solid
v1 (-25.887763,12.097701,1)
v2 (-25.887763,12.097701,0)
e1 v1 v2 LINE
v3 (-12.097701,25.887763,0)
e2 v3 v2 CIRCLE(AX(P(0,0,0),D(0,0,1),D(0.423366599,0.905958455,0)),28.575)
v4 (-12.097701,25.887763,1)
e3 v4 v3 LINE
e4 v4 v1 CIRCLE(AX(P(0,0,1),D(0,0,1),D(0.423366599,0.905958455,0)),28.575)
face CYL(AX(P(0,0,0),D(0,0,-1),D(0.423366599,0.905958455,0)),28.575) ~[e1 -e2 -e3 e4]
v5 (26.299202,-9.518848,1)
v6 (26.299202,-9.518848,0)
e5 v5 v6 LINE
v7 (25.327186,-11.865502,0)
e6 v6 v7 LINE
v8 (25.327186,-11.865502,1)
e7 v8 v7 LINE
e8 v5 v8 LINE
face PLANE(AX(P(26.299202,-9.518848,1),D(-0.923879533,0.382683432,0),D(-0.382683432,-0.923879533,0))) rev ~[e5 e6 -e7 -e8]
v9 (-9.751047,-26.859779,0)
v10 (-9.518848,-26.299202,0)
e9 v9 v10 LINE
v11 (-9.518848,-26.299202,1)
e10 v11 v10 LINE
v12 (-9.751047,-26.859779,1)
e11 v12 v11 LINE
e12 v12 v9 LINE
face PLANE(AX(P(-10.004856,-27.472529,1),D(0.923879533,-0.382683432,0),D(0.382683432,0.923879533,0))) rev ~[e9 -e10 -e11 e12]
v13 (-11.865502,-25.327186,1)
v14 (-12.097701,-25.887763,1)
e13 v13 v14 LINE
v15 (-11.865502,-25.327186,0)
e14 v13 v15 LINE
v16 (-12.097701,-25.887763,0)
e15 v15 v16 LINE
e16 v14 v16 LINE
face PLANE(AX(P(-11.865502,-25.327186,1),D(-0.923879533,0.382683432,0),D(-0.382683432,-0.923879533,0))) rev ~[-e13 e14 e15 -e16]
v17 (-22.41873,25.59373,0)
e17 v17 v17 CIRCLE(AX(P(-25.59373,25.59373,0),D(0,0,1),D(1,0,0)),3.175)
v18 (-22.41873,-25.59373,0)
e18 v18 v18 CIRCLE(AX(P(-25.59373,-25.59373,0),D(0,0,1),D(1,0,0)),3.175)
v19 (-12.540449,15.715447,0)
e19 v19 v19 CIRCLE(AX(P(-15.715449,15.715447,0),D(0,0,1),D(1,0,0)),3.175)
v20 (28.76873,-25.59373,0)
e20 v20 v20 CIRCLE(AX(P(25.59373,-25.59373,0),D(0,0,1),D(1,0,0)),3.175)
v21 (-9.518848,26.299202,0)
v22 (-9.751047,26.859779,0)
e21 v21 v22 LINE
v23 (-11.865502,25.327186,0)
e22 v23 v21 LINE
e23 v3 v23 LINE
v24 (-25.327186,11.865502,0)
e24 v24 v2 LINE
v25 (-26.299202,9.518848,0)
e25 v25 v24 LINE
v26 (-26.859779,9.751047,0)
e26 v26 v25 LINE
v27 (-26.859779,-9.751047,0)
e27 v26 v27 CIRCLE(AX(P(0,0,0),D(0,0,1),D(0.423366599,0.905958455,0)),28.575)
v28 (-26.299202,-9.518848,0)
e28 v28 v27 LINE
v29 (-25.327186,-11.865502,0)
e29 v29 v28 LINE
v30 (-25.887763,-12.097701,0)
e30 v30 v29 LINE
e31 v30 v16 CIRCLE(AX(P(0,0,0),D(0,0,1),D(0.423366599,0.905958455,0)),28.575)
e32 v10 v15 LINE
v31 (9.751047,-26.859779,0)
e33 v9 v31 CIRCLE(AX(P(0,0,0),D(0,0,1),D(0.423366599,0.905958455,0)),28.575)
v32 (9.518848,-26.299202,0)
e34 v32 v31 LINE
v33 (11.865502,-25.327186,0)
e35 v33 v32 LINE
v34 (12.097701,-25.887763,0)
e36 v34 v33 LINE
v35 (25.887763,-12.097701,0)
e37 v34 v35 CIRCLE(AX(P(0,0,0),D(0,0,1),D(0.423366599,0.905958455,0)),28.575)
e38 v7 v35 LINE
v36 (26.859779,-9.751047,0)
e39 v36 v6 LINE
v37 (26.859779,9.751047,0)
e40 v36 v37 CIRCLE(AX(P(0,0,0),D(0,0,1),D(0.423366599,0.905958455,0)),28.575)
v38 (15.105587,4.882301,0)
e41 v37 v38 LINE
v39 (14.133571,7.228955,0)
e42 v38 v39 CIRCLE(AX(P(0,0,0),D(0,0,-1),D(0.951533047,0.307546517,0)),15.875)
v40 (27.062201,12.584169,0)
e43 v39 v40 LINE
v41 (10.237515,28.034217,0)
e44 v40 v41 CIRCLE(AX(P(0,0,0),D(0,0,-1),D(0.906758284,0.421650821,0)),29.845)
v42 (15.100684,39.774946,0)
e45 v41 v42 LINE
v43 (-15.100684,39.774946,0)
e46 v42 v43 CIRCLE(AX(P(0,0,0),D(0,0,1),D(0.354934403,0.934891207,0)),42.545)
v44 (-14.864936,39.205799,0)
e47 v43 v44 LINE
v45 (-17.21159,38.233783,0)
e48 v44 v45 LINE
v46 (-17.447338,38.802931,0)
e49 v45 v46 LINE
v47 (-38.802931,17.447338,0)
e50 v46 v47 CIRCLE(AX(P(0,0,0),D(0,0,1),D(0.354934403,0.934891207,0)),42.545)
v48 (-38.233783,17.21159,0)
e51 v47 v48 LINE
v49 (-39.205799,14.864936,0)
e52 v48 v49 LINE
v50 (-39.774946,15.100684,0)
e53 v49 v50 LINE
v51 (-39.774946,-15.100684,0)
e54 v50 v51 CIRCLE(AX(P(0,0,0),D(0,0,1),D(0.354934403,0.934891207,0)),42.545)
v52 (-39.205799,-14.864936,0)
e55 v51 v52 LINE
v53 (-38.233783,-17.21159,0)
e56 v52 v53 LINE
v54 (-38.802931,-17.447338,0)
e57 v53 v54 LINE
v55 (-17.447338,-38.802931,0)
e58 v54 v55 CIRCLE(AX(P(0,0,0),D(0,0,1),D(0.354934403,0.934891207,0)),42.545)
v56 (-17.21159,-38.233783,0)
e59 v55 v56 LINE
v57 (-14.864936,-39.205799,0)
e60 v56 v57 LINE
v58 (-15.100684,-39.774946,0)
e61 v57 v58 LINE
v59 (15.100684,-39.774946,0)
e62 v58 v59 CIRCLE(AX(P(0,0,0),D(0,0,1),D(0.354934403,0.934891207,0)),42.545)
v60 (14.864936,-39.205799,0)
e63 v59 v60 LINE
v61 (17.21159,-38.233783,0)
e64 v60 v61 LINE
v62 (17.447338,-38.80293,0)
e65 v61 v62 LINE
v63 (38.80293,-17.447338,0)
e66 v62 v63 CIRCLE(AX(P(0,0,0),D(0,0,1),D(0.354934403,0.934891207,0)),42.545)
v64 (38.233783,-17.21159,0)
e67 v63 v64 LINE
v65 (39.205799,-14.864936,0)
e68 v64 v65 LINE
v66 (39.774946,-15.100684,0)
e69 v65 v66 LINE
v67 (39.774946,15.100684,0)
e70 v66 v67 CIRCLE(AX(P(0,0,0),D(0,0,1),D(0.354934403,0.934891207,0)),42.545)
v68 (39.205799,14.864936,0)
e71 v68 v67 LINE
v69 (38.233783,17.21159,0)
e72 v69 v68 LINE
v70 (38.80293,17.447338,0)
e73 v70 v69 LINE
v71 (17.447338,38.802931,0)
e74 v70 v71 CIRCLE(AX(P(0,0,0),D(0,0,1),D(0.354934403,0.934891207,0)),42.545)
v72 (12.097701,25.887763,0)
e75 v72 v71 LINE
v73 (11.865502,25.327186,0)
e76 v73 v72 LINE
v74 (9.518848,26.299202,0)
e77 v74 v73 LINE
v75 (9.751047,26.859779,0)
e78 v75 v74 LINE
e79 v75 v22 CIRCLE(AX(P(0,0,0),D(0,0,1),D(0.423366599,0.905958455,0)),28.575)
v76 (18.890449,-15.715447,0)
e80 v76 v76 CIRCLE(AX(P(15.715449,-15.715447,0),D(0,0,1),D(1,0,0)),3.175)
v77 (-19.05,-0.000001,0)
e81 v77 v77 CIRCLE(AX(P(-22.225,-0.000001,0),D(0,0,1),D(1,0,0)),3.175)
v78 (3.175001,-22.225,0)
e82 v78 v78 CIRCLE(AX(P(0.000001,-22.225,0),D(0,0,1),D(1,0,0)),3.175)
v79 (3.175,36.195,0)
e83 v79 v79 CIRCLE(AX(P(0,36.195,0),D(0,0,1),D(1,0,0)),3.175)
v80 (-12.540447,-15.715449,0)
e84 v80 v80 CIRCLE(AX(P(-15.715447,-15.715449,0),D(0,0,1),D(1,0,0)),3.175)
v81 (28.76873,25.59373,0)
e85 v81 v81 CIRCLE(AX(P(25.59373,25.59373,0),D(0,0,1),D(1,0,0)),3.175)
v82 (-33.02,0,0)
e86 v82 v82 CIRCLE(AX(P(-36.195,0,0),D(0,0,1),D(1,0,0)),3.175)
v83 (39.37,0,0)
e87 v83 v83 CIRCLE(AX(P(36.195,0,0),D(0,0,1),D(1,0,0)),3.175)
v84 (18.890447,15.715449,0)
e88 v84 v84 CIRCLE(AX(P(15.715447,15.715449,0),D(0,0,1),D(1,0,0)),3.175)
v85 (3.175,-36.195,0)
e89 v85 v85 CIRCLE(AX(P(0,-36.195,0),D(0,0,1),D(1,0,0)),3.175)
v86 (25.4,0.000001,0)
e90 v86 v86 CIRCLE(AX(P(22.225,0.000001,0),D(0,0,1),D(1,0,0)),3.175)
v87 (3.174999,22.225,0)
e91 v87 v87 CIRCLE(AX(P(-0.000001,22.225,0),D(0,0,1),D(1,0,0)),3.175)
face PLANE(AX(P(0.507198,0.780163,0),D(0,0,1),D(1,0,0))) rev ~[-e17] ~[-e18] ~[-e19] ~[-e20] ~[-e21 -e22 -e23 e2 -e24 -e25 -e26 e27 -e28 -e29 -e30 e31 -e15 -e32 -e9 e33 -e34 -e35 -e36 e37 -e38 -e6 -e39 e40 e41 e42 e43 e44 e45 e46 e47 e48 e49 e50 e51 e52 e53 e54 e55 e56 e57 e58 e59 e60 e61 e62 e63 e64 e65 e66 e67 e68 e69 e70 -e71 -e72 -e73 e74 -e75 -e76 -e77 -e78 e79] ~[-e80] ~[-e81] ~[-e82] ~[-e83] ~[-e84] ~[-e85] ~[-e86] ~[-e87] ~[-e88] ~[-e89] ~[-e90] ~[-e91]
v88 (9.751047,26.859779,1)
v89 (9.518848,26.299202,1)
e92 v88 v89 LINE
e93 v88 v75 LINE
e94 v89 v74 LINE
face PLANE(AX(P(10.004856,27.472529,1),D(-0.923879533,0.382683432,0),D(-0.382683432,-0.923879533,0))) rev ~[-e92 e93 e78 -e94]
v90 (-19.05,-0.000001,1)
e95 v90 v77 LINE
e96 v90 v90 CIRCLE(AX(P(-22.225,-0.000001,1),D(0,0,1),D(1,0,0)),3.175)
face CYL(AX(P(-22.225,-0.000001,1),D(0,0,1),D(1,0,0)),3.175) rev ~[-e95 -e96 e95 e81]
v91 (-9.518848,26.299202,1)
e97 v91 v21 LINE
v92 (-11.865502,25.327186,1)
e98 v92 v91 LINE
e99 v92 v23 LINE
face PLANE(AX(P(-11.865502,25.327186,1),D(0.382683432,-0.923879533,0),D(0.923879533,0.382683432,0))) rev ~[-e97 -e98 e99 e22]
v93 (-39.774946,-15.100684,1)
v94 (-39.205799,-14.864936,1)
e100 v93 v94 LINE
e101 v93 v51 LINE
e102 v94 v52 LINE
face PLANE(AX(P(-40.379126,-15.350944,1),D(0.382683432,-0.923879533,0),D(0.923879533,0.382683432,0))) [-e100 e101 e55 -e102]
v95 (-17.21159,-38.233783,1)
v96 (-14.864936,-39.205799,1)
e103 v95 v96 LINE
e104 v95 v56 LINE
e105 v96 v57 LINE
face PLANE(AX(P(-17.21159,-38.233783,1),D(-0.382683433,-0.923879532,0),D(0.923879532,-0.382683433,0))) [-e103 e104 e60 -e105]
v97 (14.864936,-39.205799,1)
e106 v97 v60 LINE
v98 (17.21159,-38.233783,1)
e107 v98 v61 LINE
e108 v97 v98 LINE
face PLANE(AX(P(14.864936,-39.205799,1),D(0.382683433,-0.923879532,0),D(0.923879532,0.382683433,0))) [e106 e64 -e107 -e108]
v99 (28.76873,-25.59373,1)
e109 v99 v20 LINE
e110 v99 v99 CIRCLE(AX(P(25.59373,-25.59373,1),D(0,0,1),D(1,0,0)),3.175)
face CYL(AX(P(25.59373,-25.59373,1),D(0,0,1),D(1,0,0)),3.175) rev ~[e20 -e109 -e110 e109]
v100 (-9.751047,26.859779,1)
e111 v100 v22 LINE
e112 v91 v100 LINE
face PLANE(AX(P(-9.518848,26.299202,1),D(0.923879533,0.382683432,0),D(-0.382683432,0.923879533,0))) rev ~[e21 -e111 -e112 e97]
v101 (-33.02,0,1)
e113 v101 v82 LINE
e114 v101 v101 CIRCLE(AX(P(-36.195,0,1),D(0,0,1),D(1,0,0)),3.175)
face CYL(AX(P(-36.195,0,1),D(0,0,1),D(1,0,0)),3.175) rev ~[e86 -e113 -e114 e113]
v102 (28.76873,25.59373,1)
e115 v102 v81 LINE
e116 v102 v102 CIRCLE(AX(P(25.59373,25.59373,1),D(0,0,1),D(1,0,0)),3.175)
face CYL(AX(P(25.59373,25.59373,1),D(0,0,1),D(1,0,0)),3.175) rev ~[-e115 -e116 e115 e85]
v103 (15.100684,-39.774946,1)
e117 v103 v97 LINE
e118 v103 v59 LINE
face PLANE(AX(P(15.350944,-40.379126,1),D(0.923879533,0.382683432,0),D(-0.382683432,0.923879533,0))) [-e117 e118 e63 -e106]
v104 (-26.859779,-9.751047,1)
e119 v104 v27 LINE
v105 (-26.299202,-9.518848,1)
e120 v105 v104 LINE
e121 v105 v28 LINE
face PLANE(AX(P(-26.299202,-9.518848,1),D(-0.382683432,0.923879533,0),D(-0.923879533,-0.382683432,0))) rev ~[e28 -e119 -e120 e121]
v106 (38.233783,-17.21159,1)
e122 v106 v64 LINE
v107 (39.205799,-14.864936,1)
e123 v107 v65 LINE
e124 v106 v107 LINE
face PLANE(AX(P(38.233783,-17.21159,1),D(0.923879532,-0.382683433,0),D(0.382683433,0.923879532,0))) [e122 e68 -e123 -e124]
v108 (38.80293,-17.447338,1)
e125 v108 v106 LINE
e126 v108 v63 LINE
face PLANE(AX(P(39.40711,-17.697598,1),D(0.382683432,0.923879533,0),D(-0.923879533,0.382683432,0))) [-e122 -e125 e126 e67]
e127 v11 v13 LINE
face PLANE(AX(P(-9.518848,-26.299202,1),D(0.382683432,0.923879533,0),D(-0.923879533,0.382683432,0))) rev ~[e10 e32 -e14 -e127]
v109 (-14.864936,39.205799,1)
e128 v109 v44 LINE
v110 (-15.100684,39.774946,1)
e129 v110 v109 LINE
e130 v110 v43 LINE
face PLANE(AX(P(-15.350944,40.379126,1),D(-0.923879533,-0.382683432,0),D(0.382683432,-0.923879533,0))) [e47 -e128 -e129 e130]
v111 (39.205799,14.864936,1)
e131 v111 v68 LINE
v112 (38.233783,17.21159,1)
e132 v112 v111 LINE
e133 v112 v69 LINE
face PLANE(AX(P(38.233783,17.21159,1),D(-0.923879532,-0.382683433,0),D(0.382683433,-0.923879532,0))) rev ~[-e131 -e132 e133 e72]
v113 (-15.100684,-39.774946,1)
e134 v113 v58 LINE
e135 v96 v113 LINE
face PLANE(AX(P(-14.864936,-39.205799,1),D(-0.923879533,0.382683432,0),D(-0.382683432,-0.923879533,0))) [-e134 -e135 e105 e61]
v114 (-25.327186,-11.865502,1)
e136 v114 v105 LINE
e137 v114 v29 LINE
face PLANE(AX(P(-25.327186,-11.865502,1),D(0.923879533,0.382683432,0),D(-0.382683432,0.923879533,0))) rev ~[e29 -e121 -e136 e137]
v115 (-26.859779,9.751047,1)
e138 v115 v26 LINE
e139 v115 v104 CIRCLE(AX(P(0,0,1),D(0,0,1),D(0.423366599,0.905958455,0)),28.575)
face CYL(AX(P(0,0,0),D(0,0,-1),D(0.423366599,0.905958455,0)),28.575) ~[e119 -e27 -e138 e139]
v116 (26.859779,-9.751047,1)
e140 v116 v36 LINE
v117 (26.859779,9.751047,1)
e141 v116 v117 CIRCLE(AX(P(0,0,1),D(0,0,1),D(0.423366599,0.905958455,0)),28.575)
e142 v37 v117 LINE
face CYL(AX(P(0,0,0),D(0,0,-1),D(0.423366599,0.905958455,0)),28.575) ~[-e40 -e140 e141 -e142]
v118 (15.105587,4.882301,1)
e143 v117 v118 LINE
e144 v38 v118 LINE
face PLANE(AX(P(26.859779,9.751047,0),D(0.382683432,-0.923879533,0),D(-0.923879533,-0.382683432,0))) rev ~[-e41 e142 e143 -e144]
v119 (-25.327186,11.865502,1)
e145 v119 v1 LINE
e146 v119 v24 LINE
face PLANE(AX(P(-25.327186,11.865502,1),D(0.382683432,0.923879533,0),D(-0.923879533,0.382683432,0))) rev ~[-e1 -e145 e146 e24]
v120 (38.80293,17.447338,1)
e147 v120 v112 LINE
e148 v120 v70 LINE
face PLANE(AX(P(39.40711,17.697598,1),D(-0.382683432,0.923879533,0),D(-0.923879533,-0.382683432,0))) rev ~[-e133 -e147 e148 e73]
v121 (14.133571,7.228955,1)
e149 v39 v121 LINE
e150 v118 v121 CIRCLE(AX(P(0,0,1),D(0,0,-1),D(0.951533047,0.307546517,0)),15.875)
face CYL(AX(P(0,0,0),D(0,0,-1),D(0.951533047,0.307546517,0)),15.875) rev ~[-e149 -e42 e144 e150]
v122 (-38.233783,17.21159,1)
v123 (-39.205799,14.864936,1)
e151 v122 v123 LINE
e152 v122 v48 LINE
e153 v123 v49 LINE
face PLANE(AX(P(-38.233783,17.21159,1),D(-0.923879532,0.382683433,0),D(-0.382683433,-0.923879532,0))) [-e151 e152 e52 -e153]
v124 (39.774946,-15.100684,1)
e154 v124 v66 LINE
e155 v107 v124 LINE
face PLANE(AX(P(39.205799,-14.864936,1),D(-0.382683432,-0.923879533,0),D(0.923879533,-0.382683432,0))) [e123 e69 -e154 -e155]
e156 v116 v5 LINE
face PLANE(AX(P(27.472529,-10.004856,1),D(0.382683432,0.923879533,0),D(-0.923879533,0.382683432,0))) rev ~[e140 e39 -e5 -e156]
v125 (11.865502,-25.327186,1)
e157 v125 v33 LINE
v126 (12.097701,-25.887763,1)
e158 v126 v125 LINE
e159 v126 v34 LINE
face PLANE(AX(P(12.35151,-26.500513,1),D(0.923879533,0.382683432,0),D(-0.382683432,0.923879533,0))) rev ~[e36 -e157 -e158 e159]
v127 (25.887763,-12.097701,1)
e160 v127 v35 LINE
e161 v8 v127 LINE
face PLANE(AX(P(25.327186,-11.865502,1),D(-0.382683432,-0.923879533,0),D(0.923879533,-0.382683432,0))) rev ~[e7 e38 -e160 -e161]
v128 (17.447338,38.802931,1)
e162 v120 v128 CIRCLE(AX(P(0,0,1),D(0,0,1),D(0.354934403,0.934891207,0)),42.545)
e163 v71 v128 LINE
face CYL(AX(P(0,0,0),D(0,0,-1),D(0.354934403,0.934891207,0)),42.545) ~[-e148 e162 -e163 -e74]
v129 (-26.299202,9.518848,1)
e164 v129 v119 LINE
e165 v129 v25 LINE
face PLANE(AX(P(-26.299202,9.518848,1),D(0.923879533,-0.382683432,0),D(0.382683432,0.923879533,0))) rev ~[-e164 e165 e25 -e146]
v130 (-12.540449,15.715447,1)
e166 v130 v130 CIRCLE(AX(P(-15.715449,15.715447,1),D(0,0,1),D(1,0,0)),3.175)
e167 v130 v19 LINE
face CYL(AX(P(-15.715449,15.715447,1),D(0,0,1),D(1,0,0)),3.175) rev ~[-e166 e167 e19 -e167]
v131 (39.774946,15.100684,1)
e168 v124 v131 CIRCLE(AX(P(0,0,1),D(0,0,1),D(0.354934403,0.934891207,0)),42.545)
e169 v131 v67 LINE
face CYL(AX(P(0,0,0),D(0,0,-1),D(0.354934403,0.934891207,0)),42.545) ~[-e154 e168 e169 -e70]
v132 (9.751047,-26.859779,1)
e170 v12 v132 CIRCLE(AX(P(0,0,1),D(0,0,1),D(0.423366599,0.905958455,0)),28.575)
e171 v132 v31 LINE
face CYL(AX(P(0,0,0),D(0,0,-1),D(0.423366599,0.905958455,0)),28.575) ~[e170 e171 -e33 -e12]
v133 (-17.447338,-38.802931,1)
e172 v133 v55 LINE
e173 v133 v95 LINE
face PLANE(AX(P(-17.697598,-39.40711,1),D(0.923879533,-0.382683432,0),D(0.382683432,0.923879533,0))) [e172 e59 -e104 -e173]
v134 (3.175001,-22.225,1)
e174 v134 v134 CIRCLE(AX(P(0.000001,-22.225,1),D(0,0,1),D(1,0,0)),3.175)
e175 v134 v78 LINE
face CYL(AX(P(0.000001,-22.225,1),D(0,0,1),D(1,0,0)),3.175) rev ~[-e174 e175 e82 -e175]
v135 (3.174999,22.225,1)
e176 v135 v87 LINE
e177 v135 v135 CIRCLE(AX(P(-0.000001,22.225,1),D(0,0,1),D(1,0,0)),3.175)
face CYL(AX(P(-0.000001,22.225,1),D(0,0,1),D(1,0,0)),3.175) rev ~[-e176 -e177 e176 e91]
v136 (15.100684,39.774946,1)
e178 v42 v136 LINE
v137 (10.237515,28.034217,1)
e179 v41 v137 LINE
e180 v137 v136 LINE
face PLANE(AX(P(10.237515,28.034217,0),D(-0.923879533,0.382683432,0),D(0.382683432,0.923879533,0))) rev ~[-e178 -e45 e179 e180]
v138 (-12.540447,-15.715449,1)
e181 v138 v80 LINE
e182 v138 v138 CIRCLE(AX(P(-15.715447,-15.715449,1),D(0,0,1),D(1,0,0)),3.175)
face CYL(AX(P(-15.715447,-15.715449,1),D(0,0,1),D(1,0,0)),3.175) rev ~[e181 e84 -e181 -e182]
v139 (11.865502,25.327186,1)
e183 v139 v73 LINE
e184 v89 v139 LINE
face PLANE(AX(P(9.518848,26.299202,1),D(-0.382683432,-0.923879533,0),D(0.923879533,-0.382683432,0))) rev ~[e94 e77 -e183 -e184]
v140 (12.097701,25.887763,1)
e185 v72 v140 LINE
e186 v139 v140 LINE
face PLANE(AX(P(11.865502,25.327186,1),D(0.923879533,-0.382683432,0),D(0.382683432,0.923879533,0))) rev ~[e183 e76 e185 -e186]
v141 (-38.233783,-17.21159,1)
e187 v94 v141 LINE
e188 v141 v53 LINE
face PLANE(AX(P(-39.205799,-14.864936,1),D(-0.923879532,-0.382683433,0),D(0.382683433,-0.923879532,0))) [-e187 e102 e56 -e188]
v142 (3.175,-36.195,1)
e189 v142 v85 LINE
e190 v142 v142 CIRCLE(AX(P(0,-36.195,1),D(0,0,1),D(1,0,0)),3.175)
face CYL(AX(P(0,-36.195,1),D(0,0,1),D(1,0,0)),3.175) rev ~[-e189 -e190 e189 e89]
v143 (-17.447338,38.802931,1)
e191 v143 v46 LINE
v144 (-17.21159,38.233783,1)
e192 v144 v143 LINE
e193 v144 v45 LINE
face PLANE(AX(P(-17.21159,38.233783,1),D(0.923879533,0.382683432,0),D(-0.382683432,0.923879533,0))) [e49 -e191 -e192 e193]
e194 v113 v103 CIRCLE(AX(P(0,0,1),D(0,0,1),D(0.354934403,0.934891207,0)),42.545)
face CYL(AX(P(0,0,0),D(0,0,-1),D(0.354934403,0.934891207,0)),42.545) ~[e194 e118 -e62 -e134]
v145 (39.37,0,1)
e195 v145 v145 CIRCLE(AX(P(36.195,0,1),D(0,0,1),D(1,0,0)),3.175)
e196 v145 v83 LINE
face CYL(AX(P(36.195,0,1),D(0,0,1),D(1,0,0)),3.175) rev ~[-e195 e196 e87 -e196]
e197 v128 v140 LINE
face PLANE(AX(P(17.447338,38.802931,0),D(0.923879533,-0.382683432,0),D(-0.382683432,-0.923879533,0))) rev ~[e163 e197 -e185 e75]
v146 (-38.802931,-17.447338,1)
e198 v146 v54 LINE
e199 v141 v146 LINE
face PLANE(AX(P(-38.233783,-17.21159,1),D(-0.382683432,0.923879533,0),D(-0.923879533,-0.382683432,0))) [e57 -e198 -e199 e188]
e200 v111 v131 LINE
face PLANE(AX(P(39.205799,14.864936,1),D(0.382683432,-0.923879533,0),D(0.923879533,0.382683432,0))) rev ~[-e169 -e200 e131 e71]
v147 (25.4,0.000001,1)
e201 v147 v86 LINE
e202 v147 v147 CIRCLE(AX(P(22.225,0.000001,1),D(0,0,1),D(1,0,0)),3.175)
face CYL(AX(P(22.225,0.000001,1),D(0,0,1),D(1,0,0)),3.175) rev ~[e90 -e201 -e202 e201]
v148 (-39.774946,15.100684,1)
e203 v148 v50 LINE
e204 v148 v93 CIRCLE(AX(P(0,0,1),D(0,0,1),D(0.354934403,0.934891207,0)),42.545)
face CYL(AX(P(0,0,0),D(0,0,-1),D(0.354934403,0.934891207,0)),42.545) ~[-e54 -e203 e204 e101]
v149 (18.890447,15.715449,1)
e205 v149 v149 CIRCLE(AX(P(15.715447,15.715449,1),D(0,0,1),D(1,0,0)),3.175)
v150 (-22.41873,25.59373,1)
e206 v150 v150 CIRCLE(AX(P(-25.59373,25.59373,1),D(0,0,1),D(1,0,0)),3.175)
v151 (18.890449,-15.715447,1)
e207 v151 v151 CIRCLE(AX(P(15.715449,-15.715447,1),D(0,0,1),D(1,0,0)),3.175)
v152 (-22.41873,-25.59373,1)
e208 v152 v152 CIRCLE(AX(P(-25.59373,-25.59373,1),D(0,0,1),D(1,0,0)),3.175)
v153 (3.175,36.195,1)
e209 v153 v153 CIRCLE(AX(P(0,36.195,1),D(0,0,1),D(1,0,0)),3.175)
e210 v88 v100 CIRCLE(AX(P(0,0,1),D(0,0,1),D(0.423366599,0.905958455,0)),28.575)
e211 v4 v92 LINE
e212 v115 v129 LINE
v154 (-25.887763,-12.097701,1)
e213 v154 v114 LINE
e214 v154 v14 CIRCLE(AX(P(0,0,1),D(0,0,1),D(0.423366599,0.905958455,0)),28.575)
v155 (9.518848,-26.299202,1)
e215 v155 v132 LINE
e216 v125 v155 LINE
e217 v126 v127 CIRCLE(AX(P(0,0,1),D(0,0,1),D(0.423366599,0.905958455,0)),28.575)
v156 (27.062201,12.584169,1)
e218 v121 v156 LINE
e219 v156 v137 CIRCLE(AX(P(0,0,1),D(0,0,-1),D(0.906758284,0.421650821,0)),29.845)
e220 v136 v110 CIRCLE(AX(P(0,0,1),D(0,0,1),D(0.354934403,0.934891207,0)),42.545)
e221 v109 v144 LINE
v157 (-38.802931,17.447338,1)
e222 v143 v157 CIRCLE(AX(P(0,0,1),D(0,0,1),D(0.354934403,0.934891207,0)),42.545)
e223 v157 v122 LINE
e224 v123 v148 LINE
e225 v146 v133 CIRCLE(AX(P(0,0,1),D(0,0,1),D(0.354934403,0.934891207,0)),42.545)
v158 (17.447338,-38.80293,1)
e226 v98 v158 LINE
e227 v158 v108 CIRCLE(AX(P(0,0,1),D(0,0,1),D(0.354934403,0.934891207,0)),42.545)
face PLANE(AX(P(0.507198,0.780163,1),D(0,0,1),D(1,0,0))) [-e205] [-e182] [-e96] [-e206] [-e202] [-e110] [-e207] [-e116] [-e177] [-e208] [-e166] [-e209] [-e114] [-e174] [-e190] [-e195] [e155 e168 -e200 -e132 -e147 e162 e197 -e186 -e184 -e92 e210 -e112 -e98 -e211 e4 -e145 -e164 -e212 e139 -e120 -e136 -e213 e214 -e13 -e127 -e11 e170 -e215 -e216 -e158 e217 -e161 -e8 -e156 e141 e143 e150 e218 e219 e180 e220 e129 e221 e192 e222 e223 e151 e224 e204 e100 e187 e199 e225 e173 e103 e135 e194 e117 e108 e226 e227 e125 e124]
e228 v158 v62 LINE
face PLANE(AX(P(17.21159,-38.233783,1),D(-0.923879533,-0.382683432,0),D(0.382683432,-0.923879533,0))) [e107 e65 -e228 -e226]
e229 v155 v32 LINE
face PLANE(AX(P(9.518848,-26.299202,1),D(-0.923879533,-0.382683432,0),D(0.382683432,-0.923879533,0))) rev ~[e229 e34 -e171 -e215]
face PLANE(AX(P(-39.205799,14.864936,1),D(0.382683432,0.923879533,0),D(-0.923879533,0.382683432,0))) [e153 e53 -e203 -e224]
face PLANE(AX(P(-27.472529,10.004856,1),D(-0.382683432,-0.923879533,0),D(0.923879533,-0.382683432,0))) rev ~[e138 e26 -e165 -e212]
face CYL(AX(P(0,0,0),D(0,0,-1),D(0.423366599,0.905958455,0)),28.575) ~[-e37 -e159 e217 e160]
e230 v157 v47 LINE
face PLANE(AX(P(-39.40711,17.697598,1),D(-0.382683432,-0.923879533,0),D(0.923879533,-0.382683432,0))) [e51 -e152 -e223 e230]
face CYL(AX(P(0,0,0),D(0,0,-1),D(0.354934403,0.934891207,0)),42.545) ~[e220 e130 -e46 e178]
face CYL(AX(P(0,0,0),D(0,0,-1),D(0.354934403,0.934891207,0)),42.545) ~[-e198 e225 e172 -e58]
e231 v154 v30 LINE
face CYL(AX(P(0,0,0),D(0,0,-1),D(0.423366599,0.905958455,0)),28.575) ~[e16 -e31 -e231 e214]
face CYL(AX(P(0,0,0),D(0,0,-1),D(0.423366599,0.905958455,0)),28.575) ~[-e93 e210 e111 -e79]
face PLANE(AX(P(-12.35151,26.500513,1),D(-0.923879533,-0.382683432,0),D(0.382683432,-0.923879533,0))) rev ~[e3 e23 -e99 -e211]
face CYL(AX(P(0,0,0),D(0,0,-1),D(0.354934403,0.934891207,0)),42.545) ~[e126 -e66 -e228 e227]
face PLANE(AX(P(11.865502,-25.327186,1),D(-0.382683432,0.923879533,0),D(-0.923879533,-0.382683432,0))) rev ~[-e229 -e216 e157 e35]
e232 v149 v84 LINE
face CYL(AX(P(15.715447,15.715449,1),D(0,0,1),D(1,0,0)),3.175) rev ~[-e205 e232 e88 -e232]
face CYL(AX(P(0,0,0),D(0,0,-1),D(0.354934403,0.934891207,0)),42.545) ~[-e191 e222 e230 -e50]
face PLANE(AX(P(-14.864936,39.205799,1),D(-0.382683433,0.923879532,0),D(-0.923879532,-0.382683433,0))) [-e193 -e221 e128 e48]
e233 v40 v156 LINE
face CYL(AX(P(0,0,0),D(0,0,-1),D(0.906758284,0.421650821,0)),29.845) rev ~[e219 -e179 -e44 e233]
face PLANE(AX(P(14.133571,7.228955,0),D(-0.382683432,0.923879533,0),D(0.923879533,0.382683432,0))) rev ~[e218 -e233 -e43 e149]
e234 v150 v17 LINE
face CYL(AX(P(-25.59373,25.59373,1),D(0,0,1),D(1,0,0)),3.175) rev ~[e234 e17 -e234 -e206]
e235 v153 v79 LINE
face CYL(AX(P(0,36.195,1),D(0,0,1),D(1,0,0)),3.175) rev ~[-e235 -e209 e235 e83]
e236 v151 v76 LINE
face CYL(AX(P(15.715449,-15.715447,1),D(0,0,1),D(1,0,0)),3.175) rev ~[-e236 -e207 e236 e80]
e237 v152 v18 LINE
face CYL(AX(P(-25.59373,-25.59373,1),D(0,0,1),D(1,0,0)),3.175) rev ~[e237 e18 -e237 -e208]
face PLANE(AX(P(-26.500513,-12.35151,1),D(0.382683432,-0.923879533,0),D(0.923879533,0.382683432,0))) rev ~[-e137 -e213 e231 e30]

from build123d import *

# Parameters (mm, degrees)
BOSS_EXTRUDE1_DEPTH = 1
SKETCH2_R           = 3.175
CUT_EXTRUDE1_DEPTH  = 2
CUT_EXTRUDE2_DEPTH  = 2


with BuildPart() as part:
    # Sketch1 → Boss-Extrude1 (new body)
    with BuildSketch(Plane.XY):
        with BuildLine():
            Line((10.237514752, 28.034216891), (15.100684157, 39.774946424))
            ThreePointArc((15.100684157, 39.774946424), (-16.28126663, -39.306454711), (17.447338169, 38.802930505))
            Line((17.447338169, 38.802930505), (12.097700571, 25.88776286))
            ThreePointArc((12.097700571, 25.88776286), (-21.083635895, -19.287584671), (26.859778778, 9.751046558))
            Line((26.859778778, 9.751046558), (15.105587123, 4.88230096))
            ThreePointArc((15.105587123, 4.88230096), (-14.666587579, -6.075099489), (14.133571205, 7.228954972))
            Line((14.133571205, 7.228954972), (27.062200973, 12.584168765))
            ThreePointArc((27.062200973, 12.584168765), (-20.186460687, -21.982511911), (10.237514752, 28.034216891))
        make_face()
    extrude(amount=BOSS_EXTRUDE1_DEPTH)

    # Sketch2 → Cut-Extrude1 (cut, through all)
    with BuildSketch(Plane.XY.offset(1)):
        with Locations((22.225, 1.106e-06)):
            Circle(SKETCH2_R)
        with Locations((36.195, 0)):
            Circle(SKETCH2_R)
        with Locations((15.715448994, -15.71544743)):
            Circle(SKETCH2_R)
        with Locations((25.593729945, -25.593729945)):
            Circle(SKETCH2_R)
        with Locations((1.106e-06, -22.225)):
            Circle(SKETCH2_R)
        with Locations((0, -36.195)):
            Circle(SKETCH2_R)
        with Locations((-15.71544743, -15.715448994)):
            Circle(SKETCH2_R)
        with Locations((-25.593729945, -25.593729945)):
            Circle(SKETCH2_R)
        with Locations((-22.225, -1.106e-06)):
            Circle(SKETCH2_R)
        with Locations((-36.195, 0)):
            Circle(SKETCH2_R)
        with Locations((-15.715448994, 15.71544743)):
            Circle(SKETCH2_R)
        with Locations((-25.593729945, 25.593729945)):
            Circle(SKETCH2_R)
        with Locations((-1.106e-06, 22.225)):
            Circle(SKETCH2_R)
        with Locations((0, 36.195)):
            Circle(SKETCH2_R)
        with Locations((15.71544743, 15.715448994)):
            Circle(SKETCH2_R)
        with Locations((25.593729945, 25.593729945)):
            Circle(SKETCH2_R)
    extrude(amount=-CUT_EXTRUDE1_DEPTH, mode=Mode.SUBTRACT)

    # Sketch3 → Cut-Extrude2 (cut, through all)
    with BuildSketch(Plane.XY.offset(1)):
        Polygon((25.327186179, -11.865502107), (26.500513186, -12.351510066), (27.472529104, -10.004856053), (26.299202097, -9.518848094), align=None)
        Polygon((10.004856053, -27.472529104), (12.351510066, -26.500513186), (11.865502107, -25.327186179), (9.518848094, -26.299202097), align=None)
        Polygon((-12.351510066, -26.500513186), (-10.004856053, -27.472529104), (-9.518848094, -26.299202097), (-11.865502107, -25.327186179), align=None)
        Polygon((-27.472529104, -10.004856053), (-26.500513186, -12.351510066), (-25.327186179, -11.865502107), (-26.299202097, -9.518848094), align=None)
        Polygon((-26.500513186, 12.351510066), (-27.472529104, 10.004856053), (-26.299202097, 9.518848094), (-25.327186179, 11.865502107), align=None)
        Polygon((-10.004856053, 27.472529104), (-12.351510066, 26.500513186), (-11.865502107, 25.327186179), (-9.518848094, 26.299202097), align=None)
        Polygon((12.351510066, 26.500513186), (10.004856053, 27.472529104), (9.518848094, 26.299202097), (11.865502107, 25.327186179), align=None)
        Polygon((39.205799167, 14.864935644), (40.379126173, 15.350943603), (39.407110255, 17.697597616), (38.233783248, 17.211589657), align=None)
        Polygon((39.205799167, -14.864935644), (40.379126173, -15.350943603), (39.407110255, -17.697597616), (38.233783248, -17.211589657), align=None)
        Polygon((17.211589657, -38.233783248), (17.697597616, -39.407110255), (15.350943603, -40.379126173), (14.864935644, -39.205799167), align=None)
        Polygon((-14.864935644, -39.205799167), (-15.350943603, -40.379126173), (-17.697597616, -39.407110255), (-17.211589657, -38.233783248), align=None)
        Polygon((-38.233783248, -17.211589657), (-39.407110255, -17.697597616), (-40.379126173, -15.350943603), (-39.205799167, -14.864935644), align=None)
        Polygon((-39.205799167, 14.864935644), (-40.379126173, 15.350943603), (-39.407110255, 17.697597616), (-38.233783248, 17.211589657), align=None)
        Polygon((-17.211589657, 38.233783248), (-17.697597616, 39.407110255), (-15.350943603, 40.379126173), (-14.864935644, 39.205799167), align=None)
    extrude(amount=-CUT_EXTRUDE2_DEPTH, mode=Mode.SUBTRACT)


solid = part.part
